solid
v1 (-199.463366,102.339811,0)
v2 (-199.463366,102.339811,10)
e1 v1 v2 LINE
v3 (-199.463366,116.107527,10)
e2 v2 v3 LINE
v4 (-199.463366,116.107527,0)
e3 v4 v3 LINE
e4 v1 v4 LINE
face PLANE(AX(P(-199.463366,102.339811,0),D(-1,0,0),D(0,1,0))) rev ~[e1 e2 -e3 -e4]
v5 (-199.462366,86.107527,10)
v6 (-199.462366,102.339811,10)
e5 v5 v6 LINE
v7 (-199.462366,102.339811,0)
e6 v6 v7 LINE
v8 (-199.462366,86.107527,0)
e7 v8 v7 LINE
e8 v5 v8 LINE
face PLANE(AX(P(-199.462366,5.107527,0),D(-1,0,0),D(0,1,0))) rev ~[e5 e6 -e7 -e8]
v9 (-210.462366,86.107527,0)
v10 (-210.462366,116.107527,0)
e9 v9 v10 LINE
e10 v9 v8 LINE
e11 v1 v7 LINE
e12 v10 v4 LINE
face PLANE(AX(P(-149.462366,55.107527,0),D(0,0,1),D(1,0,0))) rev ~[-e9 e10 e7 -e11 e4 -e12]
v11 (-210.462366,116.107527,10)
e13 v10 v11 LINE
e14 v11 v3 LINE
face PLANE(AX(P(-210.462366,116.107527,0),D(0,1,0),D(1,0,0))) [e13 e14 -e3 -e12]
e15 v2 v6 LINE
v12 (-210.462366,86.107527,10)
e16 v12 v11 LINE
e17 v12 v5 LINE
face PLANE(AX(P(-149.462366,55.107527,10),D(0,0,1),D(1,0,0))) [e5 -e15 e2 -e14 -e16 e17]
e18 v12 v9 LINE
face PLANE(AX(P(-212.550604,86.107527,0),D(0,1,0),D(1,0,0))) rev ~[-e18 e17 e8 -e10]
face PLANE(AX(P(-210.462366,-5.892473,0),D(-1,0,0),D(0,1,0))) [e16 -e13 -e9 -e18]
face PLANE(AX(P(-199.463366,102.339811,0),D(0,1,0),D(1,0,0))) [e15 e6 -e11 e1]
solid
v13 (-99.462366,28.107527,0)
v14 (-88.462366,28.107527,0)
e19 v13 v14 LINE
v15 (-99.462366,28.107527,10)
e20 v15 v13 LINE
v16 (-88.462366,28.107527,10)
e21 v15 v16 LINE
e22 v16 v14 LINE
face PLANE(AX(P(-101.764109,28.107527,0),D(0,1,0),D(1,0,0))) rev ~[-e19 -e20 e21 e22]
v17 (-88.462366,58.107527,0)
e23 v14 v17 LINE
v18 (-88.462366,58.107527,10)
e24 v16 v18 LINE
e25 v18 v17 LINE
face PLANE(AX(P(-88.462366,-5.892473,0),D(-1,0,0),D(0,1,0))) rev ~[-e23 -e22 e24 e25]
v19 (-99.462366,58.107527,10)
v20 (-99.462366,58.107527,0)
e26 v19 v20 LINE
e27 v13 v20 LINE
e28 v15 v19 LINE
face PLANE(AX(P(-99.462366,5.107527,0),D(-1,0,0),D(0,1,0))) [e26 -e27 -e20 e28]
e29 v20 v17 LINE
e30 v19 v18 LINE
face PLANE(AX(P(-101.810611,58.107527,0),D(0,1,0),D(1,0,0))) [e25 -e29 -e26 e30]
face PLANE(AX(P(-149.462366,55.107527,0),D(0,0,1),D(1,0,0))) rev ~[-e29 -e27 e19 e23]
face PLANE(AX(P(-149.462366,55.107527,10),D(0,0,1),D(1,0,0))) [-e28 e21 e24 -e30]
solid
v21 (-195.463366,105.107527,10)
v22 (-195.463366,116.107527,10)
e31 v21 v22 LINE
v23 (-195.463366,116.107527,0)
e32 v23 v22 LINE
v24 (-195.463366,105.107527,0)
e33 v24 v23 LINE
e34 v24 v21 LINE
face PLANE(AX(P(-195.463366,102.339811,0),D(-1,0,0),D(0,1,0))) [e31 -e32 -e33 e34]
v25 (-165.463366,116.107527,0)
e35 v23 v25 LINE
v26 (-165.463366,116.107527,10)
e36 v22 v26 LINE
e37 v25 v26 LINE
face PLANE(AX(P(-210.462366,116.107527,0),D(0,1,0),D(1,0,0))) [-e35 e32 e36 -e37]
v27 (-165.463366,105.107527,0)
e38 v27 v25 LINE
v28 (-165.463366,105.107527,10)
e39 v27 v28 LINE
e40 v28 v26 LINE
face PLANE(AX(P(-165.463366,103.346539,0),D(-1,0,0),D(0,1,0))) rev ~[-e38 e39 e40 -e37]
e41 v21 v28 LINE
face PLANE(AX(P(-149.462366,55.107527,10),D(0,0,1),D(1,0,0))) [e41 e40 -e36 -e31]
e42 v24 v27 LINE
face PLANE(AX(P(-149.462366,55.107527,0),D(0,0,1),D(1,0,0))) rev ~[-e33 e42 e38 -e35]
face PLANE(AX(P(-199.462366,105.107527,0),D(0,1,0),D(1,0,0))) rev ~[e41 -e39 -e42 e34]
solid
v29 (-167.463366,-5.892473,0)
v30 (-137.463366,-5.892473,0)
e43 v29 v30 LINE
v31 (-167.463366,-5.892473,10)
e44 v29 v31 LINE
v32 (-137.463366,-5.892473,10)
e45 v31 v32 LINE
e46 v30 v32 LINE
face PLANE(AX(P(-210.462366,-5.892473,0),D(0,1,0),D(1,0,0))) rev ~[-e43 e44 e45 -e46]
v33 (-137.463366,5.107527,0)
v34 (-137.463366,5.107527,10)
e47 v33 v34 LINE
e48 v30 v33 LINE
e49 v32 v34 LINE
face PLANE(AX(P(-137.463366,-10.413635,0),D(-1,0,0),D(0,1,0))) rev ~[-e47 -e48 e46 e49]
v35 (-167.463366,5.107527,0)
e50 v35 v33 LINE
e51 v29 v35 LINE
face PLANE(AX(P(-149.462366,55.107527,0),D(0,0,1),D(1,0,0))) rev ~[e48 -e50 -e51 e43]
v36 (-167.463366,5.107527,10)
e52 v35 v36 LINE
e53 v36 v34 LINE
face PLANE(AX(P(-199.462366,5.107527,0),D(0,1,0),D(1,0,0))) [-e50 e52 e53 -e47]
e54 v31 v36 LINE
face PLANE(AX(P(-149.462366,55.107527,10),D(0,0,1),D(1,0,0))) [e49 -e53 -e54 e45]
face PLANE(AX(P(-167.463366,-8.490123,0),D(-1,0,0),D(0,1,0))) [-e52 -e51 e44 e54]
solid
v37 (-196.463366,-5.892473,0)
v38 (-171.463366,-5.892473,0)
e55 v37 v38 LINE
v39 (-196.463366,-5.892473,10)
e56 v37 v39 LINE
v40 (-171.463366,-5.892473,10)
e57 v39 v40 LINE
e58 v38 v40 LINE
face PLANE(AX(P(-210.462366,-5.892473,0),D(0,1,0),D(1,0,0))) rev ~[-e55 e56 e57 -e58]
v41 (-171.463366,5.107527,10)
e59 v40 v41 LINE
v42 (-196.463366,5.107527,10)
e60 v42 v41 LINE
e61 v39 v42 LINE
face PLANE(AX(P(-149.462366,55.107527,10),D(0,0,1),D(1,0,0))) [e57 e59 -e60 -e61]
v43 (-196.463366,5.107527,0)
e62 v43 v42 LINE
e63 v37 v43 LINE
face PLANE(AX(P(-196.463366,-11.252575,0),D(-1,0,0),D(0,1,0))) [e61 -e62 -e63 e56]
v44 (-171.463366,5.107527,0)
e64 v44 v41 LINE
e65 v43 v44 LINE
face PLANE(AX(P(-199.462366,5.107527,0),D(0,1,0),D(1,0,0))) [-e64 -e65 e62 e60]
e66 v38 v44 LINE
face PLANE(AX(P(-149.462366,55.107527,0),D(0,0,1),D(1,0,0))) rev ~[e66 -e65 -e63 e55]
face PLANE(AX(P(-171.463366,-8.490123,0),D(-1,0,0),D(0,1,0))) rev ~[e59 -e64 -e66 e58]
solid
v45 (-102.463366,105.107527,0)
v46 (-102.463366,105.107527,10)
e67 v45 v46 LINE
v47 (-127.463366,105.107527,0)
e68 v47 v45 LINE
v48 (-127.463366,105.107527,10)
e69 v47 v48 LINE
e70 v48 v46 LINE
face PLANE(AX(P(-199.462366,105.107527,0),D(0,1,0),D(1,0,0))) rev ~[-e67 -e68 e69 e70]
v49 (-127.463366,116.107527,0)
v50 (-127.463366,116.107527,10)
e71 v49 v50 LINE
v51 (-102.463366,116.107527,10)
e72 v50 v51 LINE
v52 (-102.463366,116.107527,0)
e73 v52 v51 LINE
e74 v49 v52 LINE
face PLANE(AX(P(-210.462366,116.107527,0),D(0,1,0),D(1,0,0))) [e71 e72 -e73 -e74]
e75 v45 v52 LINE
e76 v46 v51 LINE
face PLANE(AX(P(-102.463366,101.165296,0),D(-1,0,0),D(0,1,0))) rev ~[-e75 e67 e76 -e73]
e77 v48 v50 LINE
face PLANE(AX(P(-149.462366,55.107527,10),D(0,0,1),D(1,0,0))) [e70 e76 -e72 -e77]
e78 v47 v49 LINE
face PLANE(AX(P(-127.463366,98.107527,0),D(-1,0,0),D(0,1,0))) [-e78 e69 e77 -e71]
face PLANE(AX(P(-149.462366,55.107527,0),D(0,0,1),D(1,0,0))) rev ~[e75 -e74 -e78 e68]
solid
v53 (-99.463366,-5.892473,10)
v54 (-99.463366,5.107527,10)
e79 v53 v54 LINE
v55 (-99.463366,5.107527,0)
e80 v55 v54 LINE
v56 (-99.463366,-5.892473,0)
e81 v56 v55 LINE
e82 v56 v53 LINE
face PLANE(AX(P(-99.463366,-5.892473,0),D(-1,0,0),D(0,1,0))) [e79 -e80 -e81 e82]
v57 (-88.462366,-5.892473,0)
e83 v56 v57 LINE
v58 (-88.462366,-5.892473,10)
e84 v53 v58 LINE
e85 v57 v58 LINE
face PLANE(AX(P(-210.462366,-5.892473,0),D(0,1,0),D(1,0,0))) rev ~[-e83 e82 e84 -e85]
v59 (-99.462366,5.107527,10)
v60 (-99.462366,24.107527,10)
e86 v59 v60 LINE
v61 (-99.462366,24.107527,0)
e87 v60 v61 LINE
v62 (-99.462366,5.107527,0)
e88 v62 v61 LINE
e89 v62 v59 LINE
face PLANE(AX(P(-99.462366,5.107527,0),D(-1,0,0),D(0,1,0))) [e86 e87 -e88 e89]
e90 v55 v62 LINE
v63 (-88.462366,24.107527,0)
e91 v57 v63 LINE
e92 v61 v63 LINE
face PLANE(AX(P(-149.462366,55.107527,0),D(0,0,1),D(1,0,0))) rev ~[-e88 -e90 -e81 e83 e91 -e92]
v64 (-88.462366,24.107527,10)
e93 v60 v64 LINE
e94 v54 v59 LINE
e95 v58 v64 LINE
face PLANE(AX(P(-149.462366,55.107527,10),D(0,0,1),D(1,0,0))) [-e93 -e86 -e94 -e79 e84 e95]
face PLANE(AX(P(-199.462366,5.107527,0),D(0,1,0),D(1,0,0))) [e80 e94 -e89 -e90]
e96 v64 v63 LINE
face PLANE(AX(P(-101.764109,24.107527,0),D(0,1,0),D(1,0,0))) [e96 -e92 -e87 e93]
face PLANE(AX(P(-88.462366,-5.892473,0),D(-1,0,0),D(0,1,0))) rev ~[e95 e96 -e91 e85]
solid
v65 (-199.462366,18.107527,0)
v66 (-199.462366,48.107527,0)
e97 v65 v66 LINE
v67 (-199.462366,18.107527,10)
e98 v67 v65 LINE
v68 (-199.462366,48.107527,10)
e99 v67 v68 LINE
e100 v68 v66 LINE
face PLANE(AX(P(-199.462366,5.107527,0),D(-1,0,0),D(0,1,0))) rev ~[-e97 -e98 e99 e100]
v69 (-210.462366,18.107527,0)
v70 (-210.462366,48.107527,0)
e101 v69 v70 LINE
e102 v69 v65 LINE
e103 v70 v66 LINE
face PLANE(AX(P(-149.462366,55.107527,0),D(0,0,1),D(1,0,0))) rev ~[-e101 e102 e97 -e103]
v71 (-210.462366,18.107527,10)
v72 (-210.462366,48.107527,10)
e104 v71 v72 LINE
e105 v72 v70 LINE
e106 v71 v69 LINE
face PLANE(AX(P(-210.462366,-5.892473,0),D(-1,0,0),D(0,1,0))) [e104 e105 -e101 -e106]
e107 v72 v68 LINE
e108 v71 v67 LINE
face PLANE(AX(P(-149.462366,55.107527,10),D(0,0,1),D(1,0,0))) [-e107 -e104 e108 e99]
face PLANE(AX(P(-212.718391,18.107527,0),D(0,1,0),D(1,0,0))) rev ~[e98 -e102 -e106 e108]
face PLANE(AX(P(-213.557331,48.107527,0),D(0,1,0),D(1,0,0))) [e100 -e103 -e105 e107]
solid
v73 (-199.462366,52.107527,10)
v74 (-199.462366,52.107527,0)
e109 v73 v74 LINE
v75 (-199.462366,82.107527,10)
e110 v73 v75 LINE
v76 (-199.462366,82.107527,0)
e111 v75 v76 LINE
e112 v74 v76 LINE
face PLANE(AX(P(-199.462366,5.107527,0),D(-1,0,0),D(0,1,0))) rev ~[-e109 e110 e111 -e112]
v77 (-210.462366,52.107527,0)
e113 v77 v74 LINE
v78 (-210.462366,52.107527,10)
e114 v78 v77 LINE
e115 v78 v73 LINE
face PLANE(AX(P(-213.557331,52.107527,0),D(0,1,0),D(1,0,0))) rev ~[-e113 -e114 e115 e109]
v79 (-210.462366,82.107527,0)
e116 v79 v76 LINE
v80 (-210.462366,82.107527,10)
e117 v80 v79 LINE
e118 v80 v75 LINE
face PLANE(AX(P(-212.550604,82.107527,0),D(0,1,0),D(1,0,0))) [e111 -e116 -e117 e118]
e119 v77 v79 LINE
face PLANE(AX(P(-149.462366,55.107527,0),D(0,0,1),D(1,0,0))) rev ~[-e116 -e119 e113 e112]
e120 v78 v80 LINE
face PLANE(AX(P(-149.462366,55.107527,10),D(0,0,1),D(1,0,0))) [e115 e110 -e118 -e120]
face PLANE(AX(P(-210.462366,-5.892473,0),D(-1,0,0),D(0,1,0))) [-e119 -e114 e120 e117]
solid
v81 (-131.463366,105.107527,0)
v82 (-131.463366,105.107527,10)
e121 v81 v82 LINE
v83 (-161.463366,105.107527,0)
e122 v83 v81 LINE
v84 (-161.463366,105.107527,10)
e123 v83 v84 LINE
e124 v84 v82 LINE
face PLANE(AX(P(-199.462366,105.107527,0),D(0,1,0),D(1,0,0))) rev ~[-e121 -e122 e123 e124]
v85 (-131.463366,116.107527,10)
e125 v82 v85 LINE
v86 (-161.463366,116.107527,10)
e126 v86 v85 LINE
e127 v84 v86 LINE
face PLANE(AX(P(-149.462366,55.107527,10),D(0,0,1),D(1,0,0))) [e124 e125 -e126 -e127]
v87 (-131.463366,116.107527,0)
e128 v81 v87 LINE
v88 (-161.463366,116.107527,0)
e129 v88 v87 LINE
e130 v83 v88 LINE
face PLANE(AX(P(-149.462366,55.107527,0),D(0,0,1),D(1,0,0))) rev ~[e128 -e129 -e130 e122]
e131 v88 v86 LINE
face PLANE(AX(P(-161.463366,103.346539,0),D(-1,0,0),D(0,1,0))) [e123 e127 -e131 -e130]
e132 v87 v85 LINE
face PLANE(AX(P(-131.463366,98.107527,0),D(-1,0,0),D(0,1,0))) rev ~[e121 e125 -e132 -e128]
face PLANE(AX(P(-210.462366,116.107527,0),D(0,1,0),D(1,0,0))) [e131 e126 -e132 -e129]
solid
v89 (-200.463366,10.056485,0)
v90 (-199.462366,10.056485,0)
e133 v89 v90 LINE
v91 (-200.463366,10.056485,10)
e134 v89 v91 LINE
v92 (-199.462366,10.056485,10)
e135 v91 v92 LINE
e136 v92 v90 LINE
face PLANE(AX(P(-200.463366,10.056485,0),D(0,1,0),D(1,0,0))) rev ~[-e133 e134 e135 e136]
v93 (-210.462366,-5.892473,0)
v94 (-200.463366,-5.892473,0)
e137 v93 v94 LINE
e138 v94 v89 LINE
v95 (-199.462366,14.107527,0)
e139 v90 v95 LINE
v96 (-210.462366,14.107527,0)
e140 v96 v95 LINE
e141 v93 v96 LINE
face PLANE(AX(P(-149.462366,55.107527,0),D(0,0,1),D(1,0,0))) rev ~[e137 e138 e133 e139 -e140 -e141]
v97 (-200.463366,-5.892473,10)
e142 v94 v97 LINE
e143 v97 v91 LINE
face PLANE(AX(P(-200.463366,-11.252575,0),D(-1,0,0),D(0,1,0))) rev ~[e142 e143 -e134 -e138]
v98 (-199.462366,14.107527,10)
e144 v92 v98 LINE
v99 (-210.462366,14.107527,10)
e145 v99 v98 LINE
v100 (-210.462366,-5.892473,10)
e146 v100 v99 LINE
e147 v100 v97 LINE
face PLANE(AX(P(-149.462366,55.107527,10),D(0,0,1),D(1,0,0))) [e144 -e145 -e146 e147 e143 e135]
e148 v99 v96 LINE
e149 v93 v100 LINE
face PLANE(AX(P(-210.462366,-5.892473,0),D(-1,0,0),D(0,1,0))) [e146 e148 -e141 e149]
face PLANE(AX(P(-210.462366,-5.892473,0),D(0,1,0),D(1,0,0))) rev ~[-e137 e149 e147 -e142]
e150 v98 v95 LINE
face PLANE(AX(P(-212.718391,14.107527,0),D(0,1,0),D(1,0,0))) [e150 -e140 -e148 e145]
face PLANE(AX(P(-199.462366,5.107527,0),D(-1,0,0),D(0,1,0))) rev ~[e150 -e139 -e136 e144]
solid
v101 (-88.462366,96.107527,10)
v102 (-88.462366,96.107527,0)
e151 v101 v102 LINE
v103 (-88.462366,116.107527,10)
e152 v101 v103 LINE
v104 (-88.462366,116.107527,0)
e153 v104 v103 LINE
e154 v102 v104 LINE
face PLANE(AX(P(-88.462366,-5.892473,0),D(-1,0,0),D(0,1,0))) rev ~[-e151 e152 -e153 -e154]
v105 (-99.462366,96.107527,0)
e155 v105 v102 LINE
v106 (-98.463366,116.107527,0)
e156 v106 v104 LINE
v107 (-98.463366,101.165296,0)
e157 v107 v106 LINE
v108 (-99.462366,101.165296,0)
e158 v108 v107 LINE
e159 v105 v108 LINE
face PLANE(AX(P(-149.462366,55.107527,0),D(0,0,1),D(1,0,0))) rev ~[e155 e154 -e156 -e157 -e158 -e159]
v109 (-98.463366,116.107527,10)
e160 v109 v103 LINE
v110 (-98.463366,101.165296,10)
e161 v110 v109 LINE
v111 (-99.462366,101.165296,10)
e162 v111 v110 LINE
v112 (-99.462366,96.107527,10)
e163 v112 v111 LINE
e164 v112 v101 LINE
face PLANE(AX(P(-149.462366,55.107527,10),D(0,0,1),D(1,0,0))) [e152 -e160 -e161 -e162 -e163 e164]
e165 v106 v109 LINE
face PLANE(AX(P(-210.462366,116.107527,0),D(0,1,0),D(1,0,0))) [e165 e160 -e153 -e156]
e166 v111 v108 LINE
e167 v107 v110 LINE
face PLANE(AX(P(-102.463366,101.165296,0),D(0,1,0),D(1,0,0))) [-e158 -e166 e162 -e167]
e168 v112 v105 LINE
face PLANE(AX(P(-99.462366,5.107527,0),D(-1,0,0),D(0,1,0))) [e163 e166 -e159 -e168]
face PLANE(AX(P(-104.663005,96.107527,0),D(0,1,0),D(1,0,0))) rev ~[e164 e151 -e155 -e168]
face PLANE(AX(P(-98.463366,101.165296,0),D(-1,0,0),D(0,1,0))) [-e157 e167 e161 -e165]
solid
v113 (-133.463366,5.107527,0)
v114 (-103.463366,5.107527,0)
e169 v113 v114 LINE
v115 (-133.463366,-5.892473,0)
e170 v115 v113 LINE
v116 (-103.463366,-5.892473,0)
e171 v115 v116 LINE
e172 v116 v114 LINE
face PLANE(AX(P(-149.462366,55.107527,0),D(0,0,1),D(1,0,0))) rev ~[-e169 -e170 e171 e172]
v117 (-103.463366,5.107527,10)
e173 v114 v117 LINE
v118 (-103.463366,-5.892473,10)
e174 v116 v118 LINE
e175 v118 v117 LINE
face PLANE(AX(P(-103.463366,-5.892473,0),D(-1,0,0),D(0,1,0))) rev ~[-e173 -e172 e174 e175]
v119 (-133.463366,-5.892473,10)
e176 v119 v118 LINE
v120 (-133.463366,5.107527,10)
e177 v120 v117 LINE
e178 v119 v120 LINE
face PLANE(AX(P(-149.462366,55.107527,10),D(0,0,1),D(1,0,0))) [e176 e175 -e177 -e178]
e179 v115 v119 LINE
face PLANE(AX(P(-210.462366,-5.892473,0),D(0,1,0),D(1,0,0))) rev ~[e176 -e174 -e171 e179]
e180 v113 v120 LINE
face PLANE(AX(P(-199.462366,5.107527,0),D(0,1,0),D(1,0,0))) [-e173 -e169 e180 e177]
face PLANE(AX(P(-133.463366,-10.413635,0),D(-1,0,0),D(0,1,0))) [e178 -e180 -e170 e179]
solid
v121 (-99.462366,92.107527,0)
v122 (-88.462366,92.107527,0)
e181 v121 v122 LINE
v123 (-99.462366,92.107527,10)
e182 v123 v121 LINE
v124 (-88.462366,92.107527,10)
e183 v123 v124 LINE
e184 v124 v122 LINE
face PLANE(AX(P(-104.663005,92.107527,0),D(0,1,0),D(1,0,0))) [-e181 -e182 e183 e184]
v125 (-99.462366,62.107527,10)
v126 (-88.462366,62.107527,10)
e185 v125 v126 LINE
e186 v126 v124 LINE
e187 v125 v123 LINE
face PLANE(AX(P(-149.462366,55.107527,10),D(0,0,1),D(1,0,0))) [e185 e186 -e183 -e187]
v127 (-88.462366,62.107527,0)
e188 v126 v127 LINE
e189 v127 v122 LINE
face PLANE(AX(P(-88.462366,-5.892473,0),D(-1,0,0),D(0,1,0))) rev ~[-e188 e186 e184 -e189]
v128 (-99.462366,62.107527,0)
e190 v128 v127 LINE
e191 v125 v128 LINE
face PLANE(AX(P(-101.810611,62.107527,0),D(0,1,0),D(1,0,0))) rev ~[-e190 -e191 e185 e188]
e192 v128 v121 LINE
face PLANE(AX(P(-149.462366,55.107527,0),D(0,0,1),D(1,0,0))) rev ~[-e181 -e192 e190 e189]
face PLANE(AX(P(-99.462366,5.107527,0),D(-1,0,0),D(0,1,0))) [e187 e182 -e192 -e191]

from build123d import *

# Parameters (mm, degrees)
SKETCH6_W           = 122
SKETCH6_H           = 122
SKETCH6_W_2         = 100
SKETCH6_H_2         = 100
BOSS_EXTRUDE3_DEPTH = 10
SKETCH7_W           = 4
SKETCH7_H           = 13.767715449
CUT_EXTRUDE2_DEPTH  = 10
SKETCH8_W           = 4
SKETCH8_H           = 15
CUT_EXTRUDE3_DEPTH  = 10
SKETCH9_W           = 4
SKETCH9_H           = 18
CUT_EXTRUDE4_DEPTH  = 10
SKETCH10_W          = 4
SKETCH10_H          = 16.778786697
CUT_EXTRUDE5_DEPTH  = 10
SKETCH11_W          = 4
SKETCH11_H          = 17.459048521
CUT_EXTRUDE7_DEPTH  = 10
SKETCH12_W          = 4
SKETCH12_H          = 21.812422706
CUT_EXTRUDE9_DEPTH  = 10
SKETCH13_W          = 4
SKETCH13_H          = 17.574592677
CUT_EXTRUDE10_DEPTH = 10
SKETCH14_W          = 4
SKETCH14_H          = 21.309059105
CUT_EXTRUDE11_DEPTH = 10
SKETCH15_W          = 17.282150298
SKETCH15_H          = 4
CUT_EXTRUDE12_DEPTH = 10
SKETCH16_W          = 20.302331903
SKETCH16_H          = 4
CUT_EXTRUDE13_DEPTH = 10
SKETCH18_W          = 17.114362431
SKETCH18_H          = 4
CUT_EXTRUDE15_DEPTH = 10
SKETCH19_W          = 18.2888775
SKETCH19_H          = 4
CUT_EXTRUDE16_DEPTH = 10
SKETCH20_W          = 17.953301765
SKETCH20_H          = 4
CUT_EXTRUDE17_DEPTH = 10
SKETCH21_W          = 23.154725642
SKETCH21_H          = 4
CUT_EXTRUDE19_DEPTH = 10


with BuildPart() as part:
    # Sketch6 → Boss-Extrude3 (new body)
    with BuildSketch(Plane.XY):
        with Locations((-149.462365591, 55.107526882)):
            Rectangle(SKETCH6_W, SKETCH6_H)
        with Locations((-149.462365591, 55.107526882)):
            Rectangle(SKETCH6_W_2, SKETCH6_H_2, mode=Mode.SUBTRACT)
    extrude(amount=BOSS_EXTRUDE3_DEPTH)

    # Sketch7 → Cut-Extrude2 (cut)
    with BuildSketch(Plane.XY):
        with Locations((-197.463365591, 109.223669158)):
            Rectangle(SKETCH7_W, SKETCH7_H)
    extrude(amount=CUT_EXTRUDE2_DEPTH, mode=Mode.SUBTRACT)

    # Sketch8 → Cut-Extrude3 (cut)
    with BuildSketch(Plane.XY):
        with Locations((-163.463365591, 110.846538635)):
            Rectangle(SKETCH8_W, SKETCH8_H)
    extrude(amount=CUT_EXTRUDE3_DEPTH, mode=Mode.SUBTRACT)


with BuildPart() as cut_extrude3_piece_1:
    # of the separate pieces the step leaves, piece 1, a body of its own (cut_extrude3_pieces)
    add(part.part.solids().sort_by_distance((-210.462365591, 116.107526882, 0))[0])

    # Sketch9 → Cut-Extrude4 (cut)
    with BuildSketch(Plane.XY):
        with Locations((-129.463365591, 107.107526882)):
            Rectangle(SKETCH9_W, SKETCH9_H)
    extrude(amount=CUT_EXTRUDE4_DEPTH, mode=Mode.SUBTRACT)


with BuildPart() as cut_extrude3_piece_2:
    # of the separate pieces the step leaves, piece 2, a body of its own (cut_extrude3_pieces)
    add(part.part.solids().sort_by_distance((-195.463365591, 116.107526882, 0))[0])


with BuildPart() as cut_extrude4_piece_1:
    # of the separate pieces the step leaves, piece 1, a body of its own (cut_extrude4_pieces)
    add(cut_extrude3_piece_1.part.solids().sort_by_distance((-210.462365591, 116.107526882, 0))[0])

    # Sketch10 → Cut-Extrude5 (cut)
    with BuildSketch(Plane.XY):
        with Locations((-100.463365591, 109.554689714)):
            Rectangle(SKETCH10_W, SKETCH10_H)
    extrude(amount=CUT_EXTRUDE5_DEPTH, mode=Mode.SUBTRACT)


with BuildPart() as cut_extrude4_piece_2:
    # of the separate pieces the step leaves, piece 2, a body of its own (cut_extrude4_pieces)
    add(cut_extrude3_piece_1.part.solids().sort_by_distance((-161.463365591, 116.107526882, 0))[0])


with BuildPart() as cut_extrude5_piece_1:
    # of the separate pieces the step leaves, piece 1, a body of its own (cut_extrude5_pieces)
    add(cut_extrude4_piece_1.part.solids().sort_by_distance((-210.462365591, 116.107526882, 0))[0])

    # Sketch11 → Cut-Extrude7 (cut)
    with BuildSketch(Plane.XY):
        with Locations((-101.463365591, 2.837051142)):
            Rectangle(SKETCH11_W, SKETCH11_H)
    extrude(amount=CUT_EXTRUDE7_DEPTH, mode=Mode.SUBTRACT)


with BuildPart() as cut_extrude5_piece_2:
    # of the separate pieces the step leaves, piece 2, a body of its own (cut_extrude5_pieces)
    add(cut_extrude4_piece_1.part.solids().sort_by_distance((-127.463365591, 116.107526882, 0))[0])


with BuildPart() as cut_extrude7_piece_1:
    # of the separate pieces the step leaves, piece 1, a body of its own (cut_extrude7_pieces)
    add(cut_extrude5_piece_1.part.solids().sort_by_distance((-210.462365591, 116.107526882, 0))[0])

    # Sketch12 → Cut-Extrude9 (cut)
    with BuildSketch(Plane.XY):
        with Locations((-135.463365591, 0.492576183)):
            Rectangle(SKETCH12_W, SKETCH12_H)
    extrude(amount=CUT_EXTRUDE9_DEPTH, mode=Mode.SUBTRACT)


with BuildPart() as cut_extrude7_piece_2:
    # of the separate pieces the step leaves, piece 2, a body of its own (cut_extrude7_pieces)
    add(cut_extrude5_piece_1.part.solids().sort_by_distance((-98.463365591, 116.107526882, 0))[0])

    # Sketch19 → Cut-Extrude16 (cut)
    with BuildSketch(Plane.XY):
        with Locations((-92.619670477, 26.107526882)):
            Rectangle(SKETCH19_W, SKETCH19_H)
    extrude(amount=CUT_EXTRUDE16_DEPTH, mode=Mode.SUBTRACT)


with BuildPart() as cut_extrude9_piece_1:
    # of the separate pieces the step leaves, piece 1, a body of its own (cut_extrude9_pieces)
    add(cut_extrude7_piece_1.part.solids().sort_by_distance((-210.462365591, 116.107526882, 0))[0])

    # Sketch13 → Cut-Extrude10 (cut)
    with BuildSketch(Plane.XY):
        with Locations((-169.463365591, 0.297173693)):
            Rectangle(SKETCH13_W, SKETCH13_H)
    extrude(amount=CUT_EXTRUDE10_DEPTH, mode=Mode.SUBTRACT)


with BuildPart() as cut_extrude9_piece_2:
    # of the separate pieces the step leaves, piece 2, a body of its own (cut_extrude9_pieces)
    add(cut_extrude7_piece_1.part.solids().sort_by_distance((-103.463365591, -5.892473118, 0))[0])


with BuildPart() as cut_extrude10_piece_1:
    # of the separate pieces the step leaves, piece 1, a body of its own (cut_extrude10_pieces)
    add(cut_extrude9_piece_1.part.solids().sort_by_distance((-210.462365591, 116.107526882, 0))[0])

    # Sketch14 → Cut-Extrude11 (cut)
    with BuildSketch(Plane.XY):
        with Locations((-198.463365591, -0.598044951)):
            Rectangle(SKETCH14_W, SKETCH14_H)
    extrude(amount=CUT_EXTRUDE11_DEPTH, mode=Mode.SUBTRACT)


with BuildPart() as cut_extrude10_piece_2:
    # of the separate pieces the step leaves, piece 2, a body of its own (cut_extrude10_pieces)
    add(cut_extrude9_piece_1.part.solids().sort_by_distance((-137.463365591, -5.892473118, 0))[0])


with BuildPart() as cut_extrude11_piece_1:
    # of the separate pieces the step leaves, piece 1, a body of its own (cut_extrude11_pieces)
    add(cut_extrude10_piece_1.part.solids().sort_by_distance((-210.462365591, 116.107526882, 0))[0])

    # Sketch15 → Cut-Extrude12 (cut)
    with BuildSketch(Plane.XY):
        with Locations((-203.909528423, 84.107526882)):
            Rectangle(SKETCH15_W, SKETCH15_H)
    extrude(amount=CUT_EXTRUDE12_DEPTH, mode=Mode.SUBTRACT)


with BuildPart() as cut_extrude11_piece_2:
    # of the separate pieces the step leaves, piece 2, a body of its own (cut_extrude11_pieces)
    add(cut_extrude10_piece_1.part.solids().sort_by_distance((-171.463365591, -5.892473118, 0))[0])


with BuildPart() as cut_extrude12_piece_1:
    # of the separate pieces the step leaves, piece 1, a body of its own (cut_extrude12_pieces)
    add(cut_extrude11_piece_1.part.solids().sort_by_distance((-200.463365591, -5.892473118, 0))[0])

    # Sketch16 → Cut-Extrude13 (cut)
    with BuildSketch(Plane.XY):
        with Locations((-203.406164821, 50.107526882)):
            Rectangle(SKETCH16_W, SKETCH16_H)
    extrude(amount=CUT_EXTRUDE13_DEPTH, mode=Mode.SUBTRACT)


with BuildPart() as cut_extrude12_piece_2:
    # of the separate pieces the step leaves, piece 2, a body of its own (cut_extrude12_pieces)
    add(cut_extrude11_piece_1.part.solids().sort_by_distance((-210.462365591, 116.107526882, 0))[0])


with BuildPart() as cut_extrude13_piece_1:
    # of the separate pieces the step leaves, piece 1, a body of its own (cut_extrude13_pieces)
    add(cut_extrude12_piece_1.part.solids().sort_by_distance((-200.463365591, -5.892473118, 0))[0])

    # Sketch18 → Cut-Extrude15 (cut)
    with BuildSketch(Plane.XY):
        with Locations((-204.161210224, 16.107526882)):
            Rectangle(SKETCH18_W, SKETCH18_H)
    extrude(amount=CUT_EXTRUDE15_DEPTH, mode=Mode.SUBTRACT)


with BuildPart() as cut_extrude13_piece_2:
    # of the separate pieces the step leaves, piece 2, a body of its own (cut_extrude13_pieces)
    add(cut_extrude12_piece_1.part.solids().sort_by_distance((-210.462365591, 52.107526882, 0))[0])


with BuildPart() as cut_extrude15_piece_1:
    # of the separate pieces the step leaves, piece 1, a body of its own (cut_extrude15_pieces)
    add(cut_extrude13_piece_1.part.solids().sort_by_distance((-210.462365591, 18.107526882, 0))[0])


with BuildPart() as cut_extrude15_piece_2:
    # of the separate pieces the step leaves, piece 2, a body of its own (cut_extrude15_pieces)
    add(cut_extrude13_piece_1.part.solids().sort_by_distance((-200.463365591, -5.892473118, 0))[0])


with BuildPart() as cut_extrude16_piece_1:
    # of the separate pieces the step leaves, piece 1, a body of its own (cut_extrude16_pieces)
    add(cut_extrude7_piece_2.part.solids().sort_by_distance((-98.463365591, 116.107526882, 0))[0])

    # Sketch20 → Cut-Extrude17 (cut)
    with BuildSketch(Plane.XY):
        with Locations((-92.83396049, 60.107526882)):
            Rectangle(SKETCH20_W, SKETCH20_H)
    extrude(amount=CUT_EXTRUDE17_DEPTH, mode=Mode.SUBTRACT)


with BuildPart() as cut_extrude16_piece_2:
    # of the separate pieces the step leaves, piece 2, a body of its own (cut_extrude16_pieces)
    add(cut_extrude7_piece_2.part.solids().sort_by_distance((-88.462365591, 24.107526882, 0))[0])


with BuildPart() as cut_extrude17_piece_1:
    # of the separate pieces the step leaves, piece 1, a body of its own (cut_extrude17_pieces)
    add(cut_extrude16_piece_1.part.solids().sort_by_distance((-98.463365591, 116.107526882, 0))[0])

    # Sketch21 → Cut-Extrude19 (cut)
    with BuildSketch(Plane.XY):
        with Locations((-93.08564229, 94.107526882)):
            Rectangle(SKETCH21_W, SKETCH21_H)
    extrude(amount=CUT_EXTRUDE19_DEPTH, mode=Mode.SUBTRACT)


with BuildPart() as cut_extrude17_piece_2:
    # of the separate pieces the step leaves, piece 2, a body of its own (cut_extrude17_pieces)
    add(cut_extrude16_piece_1.part.solids().sort_by_distance((-88.462365591, 58.107526882, 0))[0])


with BuildPart() as cut_extrude19_piece_1:
    # of the separate pieces the step leaves, piece 1, a body of its own (cut_extrude19_pieces)
    add(cut_extrude17_piece_1.part.solids().sort_by_distance((-88.462365591, 92.107526882, 0))[0])


with BuildPart() as cut_extrude19_piece_2:
    # of the separate pieces the step leaves, piece 2, a body of its own (cut_extrude19_pieces)
    add(cut_extrude17_piece_1.part.solids().sort_by_distance((-98.463365591, 116.107526882, 0))[0])


solid = Compound([cut_extrude3_piece_2.part, cut_extrude4_piece_2.part, cut_extrude5_piece_2.part, cut_extrude9_piece_2.part, cut_extrude10_piece_2.part, cut_extrude11_piece_2.part, cut_extrude12_piece_2.part, cut_extrude13_piece_2.part, cut_extrude15_piece_1.part, cut_extrude15_piece_2.part, cut_extrude16_piece_2.part, cut_extrude17_piece_2.part, cut_extrude19_piece_1.part, cut_extrude19_piece_2.part])
